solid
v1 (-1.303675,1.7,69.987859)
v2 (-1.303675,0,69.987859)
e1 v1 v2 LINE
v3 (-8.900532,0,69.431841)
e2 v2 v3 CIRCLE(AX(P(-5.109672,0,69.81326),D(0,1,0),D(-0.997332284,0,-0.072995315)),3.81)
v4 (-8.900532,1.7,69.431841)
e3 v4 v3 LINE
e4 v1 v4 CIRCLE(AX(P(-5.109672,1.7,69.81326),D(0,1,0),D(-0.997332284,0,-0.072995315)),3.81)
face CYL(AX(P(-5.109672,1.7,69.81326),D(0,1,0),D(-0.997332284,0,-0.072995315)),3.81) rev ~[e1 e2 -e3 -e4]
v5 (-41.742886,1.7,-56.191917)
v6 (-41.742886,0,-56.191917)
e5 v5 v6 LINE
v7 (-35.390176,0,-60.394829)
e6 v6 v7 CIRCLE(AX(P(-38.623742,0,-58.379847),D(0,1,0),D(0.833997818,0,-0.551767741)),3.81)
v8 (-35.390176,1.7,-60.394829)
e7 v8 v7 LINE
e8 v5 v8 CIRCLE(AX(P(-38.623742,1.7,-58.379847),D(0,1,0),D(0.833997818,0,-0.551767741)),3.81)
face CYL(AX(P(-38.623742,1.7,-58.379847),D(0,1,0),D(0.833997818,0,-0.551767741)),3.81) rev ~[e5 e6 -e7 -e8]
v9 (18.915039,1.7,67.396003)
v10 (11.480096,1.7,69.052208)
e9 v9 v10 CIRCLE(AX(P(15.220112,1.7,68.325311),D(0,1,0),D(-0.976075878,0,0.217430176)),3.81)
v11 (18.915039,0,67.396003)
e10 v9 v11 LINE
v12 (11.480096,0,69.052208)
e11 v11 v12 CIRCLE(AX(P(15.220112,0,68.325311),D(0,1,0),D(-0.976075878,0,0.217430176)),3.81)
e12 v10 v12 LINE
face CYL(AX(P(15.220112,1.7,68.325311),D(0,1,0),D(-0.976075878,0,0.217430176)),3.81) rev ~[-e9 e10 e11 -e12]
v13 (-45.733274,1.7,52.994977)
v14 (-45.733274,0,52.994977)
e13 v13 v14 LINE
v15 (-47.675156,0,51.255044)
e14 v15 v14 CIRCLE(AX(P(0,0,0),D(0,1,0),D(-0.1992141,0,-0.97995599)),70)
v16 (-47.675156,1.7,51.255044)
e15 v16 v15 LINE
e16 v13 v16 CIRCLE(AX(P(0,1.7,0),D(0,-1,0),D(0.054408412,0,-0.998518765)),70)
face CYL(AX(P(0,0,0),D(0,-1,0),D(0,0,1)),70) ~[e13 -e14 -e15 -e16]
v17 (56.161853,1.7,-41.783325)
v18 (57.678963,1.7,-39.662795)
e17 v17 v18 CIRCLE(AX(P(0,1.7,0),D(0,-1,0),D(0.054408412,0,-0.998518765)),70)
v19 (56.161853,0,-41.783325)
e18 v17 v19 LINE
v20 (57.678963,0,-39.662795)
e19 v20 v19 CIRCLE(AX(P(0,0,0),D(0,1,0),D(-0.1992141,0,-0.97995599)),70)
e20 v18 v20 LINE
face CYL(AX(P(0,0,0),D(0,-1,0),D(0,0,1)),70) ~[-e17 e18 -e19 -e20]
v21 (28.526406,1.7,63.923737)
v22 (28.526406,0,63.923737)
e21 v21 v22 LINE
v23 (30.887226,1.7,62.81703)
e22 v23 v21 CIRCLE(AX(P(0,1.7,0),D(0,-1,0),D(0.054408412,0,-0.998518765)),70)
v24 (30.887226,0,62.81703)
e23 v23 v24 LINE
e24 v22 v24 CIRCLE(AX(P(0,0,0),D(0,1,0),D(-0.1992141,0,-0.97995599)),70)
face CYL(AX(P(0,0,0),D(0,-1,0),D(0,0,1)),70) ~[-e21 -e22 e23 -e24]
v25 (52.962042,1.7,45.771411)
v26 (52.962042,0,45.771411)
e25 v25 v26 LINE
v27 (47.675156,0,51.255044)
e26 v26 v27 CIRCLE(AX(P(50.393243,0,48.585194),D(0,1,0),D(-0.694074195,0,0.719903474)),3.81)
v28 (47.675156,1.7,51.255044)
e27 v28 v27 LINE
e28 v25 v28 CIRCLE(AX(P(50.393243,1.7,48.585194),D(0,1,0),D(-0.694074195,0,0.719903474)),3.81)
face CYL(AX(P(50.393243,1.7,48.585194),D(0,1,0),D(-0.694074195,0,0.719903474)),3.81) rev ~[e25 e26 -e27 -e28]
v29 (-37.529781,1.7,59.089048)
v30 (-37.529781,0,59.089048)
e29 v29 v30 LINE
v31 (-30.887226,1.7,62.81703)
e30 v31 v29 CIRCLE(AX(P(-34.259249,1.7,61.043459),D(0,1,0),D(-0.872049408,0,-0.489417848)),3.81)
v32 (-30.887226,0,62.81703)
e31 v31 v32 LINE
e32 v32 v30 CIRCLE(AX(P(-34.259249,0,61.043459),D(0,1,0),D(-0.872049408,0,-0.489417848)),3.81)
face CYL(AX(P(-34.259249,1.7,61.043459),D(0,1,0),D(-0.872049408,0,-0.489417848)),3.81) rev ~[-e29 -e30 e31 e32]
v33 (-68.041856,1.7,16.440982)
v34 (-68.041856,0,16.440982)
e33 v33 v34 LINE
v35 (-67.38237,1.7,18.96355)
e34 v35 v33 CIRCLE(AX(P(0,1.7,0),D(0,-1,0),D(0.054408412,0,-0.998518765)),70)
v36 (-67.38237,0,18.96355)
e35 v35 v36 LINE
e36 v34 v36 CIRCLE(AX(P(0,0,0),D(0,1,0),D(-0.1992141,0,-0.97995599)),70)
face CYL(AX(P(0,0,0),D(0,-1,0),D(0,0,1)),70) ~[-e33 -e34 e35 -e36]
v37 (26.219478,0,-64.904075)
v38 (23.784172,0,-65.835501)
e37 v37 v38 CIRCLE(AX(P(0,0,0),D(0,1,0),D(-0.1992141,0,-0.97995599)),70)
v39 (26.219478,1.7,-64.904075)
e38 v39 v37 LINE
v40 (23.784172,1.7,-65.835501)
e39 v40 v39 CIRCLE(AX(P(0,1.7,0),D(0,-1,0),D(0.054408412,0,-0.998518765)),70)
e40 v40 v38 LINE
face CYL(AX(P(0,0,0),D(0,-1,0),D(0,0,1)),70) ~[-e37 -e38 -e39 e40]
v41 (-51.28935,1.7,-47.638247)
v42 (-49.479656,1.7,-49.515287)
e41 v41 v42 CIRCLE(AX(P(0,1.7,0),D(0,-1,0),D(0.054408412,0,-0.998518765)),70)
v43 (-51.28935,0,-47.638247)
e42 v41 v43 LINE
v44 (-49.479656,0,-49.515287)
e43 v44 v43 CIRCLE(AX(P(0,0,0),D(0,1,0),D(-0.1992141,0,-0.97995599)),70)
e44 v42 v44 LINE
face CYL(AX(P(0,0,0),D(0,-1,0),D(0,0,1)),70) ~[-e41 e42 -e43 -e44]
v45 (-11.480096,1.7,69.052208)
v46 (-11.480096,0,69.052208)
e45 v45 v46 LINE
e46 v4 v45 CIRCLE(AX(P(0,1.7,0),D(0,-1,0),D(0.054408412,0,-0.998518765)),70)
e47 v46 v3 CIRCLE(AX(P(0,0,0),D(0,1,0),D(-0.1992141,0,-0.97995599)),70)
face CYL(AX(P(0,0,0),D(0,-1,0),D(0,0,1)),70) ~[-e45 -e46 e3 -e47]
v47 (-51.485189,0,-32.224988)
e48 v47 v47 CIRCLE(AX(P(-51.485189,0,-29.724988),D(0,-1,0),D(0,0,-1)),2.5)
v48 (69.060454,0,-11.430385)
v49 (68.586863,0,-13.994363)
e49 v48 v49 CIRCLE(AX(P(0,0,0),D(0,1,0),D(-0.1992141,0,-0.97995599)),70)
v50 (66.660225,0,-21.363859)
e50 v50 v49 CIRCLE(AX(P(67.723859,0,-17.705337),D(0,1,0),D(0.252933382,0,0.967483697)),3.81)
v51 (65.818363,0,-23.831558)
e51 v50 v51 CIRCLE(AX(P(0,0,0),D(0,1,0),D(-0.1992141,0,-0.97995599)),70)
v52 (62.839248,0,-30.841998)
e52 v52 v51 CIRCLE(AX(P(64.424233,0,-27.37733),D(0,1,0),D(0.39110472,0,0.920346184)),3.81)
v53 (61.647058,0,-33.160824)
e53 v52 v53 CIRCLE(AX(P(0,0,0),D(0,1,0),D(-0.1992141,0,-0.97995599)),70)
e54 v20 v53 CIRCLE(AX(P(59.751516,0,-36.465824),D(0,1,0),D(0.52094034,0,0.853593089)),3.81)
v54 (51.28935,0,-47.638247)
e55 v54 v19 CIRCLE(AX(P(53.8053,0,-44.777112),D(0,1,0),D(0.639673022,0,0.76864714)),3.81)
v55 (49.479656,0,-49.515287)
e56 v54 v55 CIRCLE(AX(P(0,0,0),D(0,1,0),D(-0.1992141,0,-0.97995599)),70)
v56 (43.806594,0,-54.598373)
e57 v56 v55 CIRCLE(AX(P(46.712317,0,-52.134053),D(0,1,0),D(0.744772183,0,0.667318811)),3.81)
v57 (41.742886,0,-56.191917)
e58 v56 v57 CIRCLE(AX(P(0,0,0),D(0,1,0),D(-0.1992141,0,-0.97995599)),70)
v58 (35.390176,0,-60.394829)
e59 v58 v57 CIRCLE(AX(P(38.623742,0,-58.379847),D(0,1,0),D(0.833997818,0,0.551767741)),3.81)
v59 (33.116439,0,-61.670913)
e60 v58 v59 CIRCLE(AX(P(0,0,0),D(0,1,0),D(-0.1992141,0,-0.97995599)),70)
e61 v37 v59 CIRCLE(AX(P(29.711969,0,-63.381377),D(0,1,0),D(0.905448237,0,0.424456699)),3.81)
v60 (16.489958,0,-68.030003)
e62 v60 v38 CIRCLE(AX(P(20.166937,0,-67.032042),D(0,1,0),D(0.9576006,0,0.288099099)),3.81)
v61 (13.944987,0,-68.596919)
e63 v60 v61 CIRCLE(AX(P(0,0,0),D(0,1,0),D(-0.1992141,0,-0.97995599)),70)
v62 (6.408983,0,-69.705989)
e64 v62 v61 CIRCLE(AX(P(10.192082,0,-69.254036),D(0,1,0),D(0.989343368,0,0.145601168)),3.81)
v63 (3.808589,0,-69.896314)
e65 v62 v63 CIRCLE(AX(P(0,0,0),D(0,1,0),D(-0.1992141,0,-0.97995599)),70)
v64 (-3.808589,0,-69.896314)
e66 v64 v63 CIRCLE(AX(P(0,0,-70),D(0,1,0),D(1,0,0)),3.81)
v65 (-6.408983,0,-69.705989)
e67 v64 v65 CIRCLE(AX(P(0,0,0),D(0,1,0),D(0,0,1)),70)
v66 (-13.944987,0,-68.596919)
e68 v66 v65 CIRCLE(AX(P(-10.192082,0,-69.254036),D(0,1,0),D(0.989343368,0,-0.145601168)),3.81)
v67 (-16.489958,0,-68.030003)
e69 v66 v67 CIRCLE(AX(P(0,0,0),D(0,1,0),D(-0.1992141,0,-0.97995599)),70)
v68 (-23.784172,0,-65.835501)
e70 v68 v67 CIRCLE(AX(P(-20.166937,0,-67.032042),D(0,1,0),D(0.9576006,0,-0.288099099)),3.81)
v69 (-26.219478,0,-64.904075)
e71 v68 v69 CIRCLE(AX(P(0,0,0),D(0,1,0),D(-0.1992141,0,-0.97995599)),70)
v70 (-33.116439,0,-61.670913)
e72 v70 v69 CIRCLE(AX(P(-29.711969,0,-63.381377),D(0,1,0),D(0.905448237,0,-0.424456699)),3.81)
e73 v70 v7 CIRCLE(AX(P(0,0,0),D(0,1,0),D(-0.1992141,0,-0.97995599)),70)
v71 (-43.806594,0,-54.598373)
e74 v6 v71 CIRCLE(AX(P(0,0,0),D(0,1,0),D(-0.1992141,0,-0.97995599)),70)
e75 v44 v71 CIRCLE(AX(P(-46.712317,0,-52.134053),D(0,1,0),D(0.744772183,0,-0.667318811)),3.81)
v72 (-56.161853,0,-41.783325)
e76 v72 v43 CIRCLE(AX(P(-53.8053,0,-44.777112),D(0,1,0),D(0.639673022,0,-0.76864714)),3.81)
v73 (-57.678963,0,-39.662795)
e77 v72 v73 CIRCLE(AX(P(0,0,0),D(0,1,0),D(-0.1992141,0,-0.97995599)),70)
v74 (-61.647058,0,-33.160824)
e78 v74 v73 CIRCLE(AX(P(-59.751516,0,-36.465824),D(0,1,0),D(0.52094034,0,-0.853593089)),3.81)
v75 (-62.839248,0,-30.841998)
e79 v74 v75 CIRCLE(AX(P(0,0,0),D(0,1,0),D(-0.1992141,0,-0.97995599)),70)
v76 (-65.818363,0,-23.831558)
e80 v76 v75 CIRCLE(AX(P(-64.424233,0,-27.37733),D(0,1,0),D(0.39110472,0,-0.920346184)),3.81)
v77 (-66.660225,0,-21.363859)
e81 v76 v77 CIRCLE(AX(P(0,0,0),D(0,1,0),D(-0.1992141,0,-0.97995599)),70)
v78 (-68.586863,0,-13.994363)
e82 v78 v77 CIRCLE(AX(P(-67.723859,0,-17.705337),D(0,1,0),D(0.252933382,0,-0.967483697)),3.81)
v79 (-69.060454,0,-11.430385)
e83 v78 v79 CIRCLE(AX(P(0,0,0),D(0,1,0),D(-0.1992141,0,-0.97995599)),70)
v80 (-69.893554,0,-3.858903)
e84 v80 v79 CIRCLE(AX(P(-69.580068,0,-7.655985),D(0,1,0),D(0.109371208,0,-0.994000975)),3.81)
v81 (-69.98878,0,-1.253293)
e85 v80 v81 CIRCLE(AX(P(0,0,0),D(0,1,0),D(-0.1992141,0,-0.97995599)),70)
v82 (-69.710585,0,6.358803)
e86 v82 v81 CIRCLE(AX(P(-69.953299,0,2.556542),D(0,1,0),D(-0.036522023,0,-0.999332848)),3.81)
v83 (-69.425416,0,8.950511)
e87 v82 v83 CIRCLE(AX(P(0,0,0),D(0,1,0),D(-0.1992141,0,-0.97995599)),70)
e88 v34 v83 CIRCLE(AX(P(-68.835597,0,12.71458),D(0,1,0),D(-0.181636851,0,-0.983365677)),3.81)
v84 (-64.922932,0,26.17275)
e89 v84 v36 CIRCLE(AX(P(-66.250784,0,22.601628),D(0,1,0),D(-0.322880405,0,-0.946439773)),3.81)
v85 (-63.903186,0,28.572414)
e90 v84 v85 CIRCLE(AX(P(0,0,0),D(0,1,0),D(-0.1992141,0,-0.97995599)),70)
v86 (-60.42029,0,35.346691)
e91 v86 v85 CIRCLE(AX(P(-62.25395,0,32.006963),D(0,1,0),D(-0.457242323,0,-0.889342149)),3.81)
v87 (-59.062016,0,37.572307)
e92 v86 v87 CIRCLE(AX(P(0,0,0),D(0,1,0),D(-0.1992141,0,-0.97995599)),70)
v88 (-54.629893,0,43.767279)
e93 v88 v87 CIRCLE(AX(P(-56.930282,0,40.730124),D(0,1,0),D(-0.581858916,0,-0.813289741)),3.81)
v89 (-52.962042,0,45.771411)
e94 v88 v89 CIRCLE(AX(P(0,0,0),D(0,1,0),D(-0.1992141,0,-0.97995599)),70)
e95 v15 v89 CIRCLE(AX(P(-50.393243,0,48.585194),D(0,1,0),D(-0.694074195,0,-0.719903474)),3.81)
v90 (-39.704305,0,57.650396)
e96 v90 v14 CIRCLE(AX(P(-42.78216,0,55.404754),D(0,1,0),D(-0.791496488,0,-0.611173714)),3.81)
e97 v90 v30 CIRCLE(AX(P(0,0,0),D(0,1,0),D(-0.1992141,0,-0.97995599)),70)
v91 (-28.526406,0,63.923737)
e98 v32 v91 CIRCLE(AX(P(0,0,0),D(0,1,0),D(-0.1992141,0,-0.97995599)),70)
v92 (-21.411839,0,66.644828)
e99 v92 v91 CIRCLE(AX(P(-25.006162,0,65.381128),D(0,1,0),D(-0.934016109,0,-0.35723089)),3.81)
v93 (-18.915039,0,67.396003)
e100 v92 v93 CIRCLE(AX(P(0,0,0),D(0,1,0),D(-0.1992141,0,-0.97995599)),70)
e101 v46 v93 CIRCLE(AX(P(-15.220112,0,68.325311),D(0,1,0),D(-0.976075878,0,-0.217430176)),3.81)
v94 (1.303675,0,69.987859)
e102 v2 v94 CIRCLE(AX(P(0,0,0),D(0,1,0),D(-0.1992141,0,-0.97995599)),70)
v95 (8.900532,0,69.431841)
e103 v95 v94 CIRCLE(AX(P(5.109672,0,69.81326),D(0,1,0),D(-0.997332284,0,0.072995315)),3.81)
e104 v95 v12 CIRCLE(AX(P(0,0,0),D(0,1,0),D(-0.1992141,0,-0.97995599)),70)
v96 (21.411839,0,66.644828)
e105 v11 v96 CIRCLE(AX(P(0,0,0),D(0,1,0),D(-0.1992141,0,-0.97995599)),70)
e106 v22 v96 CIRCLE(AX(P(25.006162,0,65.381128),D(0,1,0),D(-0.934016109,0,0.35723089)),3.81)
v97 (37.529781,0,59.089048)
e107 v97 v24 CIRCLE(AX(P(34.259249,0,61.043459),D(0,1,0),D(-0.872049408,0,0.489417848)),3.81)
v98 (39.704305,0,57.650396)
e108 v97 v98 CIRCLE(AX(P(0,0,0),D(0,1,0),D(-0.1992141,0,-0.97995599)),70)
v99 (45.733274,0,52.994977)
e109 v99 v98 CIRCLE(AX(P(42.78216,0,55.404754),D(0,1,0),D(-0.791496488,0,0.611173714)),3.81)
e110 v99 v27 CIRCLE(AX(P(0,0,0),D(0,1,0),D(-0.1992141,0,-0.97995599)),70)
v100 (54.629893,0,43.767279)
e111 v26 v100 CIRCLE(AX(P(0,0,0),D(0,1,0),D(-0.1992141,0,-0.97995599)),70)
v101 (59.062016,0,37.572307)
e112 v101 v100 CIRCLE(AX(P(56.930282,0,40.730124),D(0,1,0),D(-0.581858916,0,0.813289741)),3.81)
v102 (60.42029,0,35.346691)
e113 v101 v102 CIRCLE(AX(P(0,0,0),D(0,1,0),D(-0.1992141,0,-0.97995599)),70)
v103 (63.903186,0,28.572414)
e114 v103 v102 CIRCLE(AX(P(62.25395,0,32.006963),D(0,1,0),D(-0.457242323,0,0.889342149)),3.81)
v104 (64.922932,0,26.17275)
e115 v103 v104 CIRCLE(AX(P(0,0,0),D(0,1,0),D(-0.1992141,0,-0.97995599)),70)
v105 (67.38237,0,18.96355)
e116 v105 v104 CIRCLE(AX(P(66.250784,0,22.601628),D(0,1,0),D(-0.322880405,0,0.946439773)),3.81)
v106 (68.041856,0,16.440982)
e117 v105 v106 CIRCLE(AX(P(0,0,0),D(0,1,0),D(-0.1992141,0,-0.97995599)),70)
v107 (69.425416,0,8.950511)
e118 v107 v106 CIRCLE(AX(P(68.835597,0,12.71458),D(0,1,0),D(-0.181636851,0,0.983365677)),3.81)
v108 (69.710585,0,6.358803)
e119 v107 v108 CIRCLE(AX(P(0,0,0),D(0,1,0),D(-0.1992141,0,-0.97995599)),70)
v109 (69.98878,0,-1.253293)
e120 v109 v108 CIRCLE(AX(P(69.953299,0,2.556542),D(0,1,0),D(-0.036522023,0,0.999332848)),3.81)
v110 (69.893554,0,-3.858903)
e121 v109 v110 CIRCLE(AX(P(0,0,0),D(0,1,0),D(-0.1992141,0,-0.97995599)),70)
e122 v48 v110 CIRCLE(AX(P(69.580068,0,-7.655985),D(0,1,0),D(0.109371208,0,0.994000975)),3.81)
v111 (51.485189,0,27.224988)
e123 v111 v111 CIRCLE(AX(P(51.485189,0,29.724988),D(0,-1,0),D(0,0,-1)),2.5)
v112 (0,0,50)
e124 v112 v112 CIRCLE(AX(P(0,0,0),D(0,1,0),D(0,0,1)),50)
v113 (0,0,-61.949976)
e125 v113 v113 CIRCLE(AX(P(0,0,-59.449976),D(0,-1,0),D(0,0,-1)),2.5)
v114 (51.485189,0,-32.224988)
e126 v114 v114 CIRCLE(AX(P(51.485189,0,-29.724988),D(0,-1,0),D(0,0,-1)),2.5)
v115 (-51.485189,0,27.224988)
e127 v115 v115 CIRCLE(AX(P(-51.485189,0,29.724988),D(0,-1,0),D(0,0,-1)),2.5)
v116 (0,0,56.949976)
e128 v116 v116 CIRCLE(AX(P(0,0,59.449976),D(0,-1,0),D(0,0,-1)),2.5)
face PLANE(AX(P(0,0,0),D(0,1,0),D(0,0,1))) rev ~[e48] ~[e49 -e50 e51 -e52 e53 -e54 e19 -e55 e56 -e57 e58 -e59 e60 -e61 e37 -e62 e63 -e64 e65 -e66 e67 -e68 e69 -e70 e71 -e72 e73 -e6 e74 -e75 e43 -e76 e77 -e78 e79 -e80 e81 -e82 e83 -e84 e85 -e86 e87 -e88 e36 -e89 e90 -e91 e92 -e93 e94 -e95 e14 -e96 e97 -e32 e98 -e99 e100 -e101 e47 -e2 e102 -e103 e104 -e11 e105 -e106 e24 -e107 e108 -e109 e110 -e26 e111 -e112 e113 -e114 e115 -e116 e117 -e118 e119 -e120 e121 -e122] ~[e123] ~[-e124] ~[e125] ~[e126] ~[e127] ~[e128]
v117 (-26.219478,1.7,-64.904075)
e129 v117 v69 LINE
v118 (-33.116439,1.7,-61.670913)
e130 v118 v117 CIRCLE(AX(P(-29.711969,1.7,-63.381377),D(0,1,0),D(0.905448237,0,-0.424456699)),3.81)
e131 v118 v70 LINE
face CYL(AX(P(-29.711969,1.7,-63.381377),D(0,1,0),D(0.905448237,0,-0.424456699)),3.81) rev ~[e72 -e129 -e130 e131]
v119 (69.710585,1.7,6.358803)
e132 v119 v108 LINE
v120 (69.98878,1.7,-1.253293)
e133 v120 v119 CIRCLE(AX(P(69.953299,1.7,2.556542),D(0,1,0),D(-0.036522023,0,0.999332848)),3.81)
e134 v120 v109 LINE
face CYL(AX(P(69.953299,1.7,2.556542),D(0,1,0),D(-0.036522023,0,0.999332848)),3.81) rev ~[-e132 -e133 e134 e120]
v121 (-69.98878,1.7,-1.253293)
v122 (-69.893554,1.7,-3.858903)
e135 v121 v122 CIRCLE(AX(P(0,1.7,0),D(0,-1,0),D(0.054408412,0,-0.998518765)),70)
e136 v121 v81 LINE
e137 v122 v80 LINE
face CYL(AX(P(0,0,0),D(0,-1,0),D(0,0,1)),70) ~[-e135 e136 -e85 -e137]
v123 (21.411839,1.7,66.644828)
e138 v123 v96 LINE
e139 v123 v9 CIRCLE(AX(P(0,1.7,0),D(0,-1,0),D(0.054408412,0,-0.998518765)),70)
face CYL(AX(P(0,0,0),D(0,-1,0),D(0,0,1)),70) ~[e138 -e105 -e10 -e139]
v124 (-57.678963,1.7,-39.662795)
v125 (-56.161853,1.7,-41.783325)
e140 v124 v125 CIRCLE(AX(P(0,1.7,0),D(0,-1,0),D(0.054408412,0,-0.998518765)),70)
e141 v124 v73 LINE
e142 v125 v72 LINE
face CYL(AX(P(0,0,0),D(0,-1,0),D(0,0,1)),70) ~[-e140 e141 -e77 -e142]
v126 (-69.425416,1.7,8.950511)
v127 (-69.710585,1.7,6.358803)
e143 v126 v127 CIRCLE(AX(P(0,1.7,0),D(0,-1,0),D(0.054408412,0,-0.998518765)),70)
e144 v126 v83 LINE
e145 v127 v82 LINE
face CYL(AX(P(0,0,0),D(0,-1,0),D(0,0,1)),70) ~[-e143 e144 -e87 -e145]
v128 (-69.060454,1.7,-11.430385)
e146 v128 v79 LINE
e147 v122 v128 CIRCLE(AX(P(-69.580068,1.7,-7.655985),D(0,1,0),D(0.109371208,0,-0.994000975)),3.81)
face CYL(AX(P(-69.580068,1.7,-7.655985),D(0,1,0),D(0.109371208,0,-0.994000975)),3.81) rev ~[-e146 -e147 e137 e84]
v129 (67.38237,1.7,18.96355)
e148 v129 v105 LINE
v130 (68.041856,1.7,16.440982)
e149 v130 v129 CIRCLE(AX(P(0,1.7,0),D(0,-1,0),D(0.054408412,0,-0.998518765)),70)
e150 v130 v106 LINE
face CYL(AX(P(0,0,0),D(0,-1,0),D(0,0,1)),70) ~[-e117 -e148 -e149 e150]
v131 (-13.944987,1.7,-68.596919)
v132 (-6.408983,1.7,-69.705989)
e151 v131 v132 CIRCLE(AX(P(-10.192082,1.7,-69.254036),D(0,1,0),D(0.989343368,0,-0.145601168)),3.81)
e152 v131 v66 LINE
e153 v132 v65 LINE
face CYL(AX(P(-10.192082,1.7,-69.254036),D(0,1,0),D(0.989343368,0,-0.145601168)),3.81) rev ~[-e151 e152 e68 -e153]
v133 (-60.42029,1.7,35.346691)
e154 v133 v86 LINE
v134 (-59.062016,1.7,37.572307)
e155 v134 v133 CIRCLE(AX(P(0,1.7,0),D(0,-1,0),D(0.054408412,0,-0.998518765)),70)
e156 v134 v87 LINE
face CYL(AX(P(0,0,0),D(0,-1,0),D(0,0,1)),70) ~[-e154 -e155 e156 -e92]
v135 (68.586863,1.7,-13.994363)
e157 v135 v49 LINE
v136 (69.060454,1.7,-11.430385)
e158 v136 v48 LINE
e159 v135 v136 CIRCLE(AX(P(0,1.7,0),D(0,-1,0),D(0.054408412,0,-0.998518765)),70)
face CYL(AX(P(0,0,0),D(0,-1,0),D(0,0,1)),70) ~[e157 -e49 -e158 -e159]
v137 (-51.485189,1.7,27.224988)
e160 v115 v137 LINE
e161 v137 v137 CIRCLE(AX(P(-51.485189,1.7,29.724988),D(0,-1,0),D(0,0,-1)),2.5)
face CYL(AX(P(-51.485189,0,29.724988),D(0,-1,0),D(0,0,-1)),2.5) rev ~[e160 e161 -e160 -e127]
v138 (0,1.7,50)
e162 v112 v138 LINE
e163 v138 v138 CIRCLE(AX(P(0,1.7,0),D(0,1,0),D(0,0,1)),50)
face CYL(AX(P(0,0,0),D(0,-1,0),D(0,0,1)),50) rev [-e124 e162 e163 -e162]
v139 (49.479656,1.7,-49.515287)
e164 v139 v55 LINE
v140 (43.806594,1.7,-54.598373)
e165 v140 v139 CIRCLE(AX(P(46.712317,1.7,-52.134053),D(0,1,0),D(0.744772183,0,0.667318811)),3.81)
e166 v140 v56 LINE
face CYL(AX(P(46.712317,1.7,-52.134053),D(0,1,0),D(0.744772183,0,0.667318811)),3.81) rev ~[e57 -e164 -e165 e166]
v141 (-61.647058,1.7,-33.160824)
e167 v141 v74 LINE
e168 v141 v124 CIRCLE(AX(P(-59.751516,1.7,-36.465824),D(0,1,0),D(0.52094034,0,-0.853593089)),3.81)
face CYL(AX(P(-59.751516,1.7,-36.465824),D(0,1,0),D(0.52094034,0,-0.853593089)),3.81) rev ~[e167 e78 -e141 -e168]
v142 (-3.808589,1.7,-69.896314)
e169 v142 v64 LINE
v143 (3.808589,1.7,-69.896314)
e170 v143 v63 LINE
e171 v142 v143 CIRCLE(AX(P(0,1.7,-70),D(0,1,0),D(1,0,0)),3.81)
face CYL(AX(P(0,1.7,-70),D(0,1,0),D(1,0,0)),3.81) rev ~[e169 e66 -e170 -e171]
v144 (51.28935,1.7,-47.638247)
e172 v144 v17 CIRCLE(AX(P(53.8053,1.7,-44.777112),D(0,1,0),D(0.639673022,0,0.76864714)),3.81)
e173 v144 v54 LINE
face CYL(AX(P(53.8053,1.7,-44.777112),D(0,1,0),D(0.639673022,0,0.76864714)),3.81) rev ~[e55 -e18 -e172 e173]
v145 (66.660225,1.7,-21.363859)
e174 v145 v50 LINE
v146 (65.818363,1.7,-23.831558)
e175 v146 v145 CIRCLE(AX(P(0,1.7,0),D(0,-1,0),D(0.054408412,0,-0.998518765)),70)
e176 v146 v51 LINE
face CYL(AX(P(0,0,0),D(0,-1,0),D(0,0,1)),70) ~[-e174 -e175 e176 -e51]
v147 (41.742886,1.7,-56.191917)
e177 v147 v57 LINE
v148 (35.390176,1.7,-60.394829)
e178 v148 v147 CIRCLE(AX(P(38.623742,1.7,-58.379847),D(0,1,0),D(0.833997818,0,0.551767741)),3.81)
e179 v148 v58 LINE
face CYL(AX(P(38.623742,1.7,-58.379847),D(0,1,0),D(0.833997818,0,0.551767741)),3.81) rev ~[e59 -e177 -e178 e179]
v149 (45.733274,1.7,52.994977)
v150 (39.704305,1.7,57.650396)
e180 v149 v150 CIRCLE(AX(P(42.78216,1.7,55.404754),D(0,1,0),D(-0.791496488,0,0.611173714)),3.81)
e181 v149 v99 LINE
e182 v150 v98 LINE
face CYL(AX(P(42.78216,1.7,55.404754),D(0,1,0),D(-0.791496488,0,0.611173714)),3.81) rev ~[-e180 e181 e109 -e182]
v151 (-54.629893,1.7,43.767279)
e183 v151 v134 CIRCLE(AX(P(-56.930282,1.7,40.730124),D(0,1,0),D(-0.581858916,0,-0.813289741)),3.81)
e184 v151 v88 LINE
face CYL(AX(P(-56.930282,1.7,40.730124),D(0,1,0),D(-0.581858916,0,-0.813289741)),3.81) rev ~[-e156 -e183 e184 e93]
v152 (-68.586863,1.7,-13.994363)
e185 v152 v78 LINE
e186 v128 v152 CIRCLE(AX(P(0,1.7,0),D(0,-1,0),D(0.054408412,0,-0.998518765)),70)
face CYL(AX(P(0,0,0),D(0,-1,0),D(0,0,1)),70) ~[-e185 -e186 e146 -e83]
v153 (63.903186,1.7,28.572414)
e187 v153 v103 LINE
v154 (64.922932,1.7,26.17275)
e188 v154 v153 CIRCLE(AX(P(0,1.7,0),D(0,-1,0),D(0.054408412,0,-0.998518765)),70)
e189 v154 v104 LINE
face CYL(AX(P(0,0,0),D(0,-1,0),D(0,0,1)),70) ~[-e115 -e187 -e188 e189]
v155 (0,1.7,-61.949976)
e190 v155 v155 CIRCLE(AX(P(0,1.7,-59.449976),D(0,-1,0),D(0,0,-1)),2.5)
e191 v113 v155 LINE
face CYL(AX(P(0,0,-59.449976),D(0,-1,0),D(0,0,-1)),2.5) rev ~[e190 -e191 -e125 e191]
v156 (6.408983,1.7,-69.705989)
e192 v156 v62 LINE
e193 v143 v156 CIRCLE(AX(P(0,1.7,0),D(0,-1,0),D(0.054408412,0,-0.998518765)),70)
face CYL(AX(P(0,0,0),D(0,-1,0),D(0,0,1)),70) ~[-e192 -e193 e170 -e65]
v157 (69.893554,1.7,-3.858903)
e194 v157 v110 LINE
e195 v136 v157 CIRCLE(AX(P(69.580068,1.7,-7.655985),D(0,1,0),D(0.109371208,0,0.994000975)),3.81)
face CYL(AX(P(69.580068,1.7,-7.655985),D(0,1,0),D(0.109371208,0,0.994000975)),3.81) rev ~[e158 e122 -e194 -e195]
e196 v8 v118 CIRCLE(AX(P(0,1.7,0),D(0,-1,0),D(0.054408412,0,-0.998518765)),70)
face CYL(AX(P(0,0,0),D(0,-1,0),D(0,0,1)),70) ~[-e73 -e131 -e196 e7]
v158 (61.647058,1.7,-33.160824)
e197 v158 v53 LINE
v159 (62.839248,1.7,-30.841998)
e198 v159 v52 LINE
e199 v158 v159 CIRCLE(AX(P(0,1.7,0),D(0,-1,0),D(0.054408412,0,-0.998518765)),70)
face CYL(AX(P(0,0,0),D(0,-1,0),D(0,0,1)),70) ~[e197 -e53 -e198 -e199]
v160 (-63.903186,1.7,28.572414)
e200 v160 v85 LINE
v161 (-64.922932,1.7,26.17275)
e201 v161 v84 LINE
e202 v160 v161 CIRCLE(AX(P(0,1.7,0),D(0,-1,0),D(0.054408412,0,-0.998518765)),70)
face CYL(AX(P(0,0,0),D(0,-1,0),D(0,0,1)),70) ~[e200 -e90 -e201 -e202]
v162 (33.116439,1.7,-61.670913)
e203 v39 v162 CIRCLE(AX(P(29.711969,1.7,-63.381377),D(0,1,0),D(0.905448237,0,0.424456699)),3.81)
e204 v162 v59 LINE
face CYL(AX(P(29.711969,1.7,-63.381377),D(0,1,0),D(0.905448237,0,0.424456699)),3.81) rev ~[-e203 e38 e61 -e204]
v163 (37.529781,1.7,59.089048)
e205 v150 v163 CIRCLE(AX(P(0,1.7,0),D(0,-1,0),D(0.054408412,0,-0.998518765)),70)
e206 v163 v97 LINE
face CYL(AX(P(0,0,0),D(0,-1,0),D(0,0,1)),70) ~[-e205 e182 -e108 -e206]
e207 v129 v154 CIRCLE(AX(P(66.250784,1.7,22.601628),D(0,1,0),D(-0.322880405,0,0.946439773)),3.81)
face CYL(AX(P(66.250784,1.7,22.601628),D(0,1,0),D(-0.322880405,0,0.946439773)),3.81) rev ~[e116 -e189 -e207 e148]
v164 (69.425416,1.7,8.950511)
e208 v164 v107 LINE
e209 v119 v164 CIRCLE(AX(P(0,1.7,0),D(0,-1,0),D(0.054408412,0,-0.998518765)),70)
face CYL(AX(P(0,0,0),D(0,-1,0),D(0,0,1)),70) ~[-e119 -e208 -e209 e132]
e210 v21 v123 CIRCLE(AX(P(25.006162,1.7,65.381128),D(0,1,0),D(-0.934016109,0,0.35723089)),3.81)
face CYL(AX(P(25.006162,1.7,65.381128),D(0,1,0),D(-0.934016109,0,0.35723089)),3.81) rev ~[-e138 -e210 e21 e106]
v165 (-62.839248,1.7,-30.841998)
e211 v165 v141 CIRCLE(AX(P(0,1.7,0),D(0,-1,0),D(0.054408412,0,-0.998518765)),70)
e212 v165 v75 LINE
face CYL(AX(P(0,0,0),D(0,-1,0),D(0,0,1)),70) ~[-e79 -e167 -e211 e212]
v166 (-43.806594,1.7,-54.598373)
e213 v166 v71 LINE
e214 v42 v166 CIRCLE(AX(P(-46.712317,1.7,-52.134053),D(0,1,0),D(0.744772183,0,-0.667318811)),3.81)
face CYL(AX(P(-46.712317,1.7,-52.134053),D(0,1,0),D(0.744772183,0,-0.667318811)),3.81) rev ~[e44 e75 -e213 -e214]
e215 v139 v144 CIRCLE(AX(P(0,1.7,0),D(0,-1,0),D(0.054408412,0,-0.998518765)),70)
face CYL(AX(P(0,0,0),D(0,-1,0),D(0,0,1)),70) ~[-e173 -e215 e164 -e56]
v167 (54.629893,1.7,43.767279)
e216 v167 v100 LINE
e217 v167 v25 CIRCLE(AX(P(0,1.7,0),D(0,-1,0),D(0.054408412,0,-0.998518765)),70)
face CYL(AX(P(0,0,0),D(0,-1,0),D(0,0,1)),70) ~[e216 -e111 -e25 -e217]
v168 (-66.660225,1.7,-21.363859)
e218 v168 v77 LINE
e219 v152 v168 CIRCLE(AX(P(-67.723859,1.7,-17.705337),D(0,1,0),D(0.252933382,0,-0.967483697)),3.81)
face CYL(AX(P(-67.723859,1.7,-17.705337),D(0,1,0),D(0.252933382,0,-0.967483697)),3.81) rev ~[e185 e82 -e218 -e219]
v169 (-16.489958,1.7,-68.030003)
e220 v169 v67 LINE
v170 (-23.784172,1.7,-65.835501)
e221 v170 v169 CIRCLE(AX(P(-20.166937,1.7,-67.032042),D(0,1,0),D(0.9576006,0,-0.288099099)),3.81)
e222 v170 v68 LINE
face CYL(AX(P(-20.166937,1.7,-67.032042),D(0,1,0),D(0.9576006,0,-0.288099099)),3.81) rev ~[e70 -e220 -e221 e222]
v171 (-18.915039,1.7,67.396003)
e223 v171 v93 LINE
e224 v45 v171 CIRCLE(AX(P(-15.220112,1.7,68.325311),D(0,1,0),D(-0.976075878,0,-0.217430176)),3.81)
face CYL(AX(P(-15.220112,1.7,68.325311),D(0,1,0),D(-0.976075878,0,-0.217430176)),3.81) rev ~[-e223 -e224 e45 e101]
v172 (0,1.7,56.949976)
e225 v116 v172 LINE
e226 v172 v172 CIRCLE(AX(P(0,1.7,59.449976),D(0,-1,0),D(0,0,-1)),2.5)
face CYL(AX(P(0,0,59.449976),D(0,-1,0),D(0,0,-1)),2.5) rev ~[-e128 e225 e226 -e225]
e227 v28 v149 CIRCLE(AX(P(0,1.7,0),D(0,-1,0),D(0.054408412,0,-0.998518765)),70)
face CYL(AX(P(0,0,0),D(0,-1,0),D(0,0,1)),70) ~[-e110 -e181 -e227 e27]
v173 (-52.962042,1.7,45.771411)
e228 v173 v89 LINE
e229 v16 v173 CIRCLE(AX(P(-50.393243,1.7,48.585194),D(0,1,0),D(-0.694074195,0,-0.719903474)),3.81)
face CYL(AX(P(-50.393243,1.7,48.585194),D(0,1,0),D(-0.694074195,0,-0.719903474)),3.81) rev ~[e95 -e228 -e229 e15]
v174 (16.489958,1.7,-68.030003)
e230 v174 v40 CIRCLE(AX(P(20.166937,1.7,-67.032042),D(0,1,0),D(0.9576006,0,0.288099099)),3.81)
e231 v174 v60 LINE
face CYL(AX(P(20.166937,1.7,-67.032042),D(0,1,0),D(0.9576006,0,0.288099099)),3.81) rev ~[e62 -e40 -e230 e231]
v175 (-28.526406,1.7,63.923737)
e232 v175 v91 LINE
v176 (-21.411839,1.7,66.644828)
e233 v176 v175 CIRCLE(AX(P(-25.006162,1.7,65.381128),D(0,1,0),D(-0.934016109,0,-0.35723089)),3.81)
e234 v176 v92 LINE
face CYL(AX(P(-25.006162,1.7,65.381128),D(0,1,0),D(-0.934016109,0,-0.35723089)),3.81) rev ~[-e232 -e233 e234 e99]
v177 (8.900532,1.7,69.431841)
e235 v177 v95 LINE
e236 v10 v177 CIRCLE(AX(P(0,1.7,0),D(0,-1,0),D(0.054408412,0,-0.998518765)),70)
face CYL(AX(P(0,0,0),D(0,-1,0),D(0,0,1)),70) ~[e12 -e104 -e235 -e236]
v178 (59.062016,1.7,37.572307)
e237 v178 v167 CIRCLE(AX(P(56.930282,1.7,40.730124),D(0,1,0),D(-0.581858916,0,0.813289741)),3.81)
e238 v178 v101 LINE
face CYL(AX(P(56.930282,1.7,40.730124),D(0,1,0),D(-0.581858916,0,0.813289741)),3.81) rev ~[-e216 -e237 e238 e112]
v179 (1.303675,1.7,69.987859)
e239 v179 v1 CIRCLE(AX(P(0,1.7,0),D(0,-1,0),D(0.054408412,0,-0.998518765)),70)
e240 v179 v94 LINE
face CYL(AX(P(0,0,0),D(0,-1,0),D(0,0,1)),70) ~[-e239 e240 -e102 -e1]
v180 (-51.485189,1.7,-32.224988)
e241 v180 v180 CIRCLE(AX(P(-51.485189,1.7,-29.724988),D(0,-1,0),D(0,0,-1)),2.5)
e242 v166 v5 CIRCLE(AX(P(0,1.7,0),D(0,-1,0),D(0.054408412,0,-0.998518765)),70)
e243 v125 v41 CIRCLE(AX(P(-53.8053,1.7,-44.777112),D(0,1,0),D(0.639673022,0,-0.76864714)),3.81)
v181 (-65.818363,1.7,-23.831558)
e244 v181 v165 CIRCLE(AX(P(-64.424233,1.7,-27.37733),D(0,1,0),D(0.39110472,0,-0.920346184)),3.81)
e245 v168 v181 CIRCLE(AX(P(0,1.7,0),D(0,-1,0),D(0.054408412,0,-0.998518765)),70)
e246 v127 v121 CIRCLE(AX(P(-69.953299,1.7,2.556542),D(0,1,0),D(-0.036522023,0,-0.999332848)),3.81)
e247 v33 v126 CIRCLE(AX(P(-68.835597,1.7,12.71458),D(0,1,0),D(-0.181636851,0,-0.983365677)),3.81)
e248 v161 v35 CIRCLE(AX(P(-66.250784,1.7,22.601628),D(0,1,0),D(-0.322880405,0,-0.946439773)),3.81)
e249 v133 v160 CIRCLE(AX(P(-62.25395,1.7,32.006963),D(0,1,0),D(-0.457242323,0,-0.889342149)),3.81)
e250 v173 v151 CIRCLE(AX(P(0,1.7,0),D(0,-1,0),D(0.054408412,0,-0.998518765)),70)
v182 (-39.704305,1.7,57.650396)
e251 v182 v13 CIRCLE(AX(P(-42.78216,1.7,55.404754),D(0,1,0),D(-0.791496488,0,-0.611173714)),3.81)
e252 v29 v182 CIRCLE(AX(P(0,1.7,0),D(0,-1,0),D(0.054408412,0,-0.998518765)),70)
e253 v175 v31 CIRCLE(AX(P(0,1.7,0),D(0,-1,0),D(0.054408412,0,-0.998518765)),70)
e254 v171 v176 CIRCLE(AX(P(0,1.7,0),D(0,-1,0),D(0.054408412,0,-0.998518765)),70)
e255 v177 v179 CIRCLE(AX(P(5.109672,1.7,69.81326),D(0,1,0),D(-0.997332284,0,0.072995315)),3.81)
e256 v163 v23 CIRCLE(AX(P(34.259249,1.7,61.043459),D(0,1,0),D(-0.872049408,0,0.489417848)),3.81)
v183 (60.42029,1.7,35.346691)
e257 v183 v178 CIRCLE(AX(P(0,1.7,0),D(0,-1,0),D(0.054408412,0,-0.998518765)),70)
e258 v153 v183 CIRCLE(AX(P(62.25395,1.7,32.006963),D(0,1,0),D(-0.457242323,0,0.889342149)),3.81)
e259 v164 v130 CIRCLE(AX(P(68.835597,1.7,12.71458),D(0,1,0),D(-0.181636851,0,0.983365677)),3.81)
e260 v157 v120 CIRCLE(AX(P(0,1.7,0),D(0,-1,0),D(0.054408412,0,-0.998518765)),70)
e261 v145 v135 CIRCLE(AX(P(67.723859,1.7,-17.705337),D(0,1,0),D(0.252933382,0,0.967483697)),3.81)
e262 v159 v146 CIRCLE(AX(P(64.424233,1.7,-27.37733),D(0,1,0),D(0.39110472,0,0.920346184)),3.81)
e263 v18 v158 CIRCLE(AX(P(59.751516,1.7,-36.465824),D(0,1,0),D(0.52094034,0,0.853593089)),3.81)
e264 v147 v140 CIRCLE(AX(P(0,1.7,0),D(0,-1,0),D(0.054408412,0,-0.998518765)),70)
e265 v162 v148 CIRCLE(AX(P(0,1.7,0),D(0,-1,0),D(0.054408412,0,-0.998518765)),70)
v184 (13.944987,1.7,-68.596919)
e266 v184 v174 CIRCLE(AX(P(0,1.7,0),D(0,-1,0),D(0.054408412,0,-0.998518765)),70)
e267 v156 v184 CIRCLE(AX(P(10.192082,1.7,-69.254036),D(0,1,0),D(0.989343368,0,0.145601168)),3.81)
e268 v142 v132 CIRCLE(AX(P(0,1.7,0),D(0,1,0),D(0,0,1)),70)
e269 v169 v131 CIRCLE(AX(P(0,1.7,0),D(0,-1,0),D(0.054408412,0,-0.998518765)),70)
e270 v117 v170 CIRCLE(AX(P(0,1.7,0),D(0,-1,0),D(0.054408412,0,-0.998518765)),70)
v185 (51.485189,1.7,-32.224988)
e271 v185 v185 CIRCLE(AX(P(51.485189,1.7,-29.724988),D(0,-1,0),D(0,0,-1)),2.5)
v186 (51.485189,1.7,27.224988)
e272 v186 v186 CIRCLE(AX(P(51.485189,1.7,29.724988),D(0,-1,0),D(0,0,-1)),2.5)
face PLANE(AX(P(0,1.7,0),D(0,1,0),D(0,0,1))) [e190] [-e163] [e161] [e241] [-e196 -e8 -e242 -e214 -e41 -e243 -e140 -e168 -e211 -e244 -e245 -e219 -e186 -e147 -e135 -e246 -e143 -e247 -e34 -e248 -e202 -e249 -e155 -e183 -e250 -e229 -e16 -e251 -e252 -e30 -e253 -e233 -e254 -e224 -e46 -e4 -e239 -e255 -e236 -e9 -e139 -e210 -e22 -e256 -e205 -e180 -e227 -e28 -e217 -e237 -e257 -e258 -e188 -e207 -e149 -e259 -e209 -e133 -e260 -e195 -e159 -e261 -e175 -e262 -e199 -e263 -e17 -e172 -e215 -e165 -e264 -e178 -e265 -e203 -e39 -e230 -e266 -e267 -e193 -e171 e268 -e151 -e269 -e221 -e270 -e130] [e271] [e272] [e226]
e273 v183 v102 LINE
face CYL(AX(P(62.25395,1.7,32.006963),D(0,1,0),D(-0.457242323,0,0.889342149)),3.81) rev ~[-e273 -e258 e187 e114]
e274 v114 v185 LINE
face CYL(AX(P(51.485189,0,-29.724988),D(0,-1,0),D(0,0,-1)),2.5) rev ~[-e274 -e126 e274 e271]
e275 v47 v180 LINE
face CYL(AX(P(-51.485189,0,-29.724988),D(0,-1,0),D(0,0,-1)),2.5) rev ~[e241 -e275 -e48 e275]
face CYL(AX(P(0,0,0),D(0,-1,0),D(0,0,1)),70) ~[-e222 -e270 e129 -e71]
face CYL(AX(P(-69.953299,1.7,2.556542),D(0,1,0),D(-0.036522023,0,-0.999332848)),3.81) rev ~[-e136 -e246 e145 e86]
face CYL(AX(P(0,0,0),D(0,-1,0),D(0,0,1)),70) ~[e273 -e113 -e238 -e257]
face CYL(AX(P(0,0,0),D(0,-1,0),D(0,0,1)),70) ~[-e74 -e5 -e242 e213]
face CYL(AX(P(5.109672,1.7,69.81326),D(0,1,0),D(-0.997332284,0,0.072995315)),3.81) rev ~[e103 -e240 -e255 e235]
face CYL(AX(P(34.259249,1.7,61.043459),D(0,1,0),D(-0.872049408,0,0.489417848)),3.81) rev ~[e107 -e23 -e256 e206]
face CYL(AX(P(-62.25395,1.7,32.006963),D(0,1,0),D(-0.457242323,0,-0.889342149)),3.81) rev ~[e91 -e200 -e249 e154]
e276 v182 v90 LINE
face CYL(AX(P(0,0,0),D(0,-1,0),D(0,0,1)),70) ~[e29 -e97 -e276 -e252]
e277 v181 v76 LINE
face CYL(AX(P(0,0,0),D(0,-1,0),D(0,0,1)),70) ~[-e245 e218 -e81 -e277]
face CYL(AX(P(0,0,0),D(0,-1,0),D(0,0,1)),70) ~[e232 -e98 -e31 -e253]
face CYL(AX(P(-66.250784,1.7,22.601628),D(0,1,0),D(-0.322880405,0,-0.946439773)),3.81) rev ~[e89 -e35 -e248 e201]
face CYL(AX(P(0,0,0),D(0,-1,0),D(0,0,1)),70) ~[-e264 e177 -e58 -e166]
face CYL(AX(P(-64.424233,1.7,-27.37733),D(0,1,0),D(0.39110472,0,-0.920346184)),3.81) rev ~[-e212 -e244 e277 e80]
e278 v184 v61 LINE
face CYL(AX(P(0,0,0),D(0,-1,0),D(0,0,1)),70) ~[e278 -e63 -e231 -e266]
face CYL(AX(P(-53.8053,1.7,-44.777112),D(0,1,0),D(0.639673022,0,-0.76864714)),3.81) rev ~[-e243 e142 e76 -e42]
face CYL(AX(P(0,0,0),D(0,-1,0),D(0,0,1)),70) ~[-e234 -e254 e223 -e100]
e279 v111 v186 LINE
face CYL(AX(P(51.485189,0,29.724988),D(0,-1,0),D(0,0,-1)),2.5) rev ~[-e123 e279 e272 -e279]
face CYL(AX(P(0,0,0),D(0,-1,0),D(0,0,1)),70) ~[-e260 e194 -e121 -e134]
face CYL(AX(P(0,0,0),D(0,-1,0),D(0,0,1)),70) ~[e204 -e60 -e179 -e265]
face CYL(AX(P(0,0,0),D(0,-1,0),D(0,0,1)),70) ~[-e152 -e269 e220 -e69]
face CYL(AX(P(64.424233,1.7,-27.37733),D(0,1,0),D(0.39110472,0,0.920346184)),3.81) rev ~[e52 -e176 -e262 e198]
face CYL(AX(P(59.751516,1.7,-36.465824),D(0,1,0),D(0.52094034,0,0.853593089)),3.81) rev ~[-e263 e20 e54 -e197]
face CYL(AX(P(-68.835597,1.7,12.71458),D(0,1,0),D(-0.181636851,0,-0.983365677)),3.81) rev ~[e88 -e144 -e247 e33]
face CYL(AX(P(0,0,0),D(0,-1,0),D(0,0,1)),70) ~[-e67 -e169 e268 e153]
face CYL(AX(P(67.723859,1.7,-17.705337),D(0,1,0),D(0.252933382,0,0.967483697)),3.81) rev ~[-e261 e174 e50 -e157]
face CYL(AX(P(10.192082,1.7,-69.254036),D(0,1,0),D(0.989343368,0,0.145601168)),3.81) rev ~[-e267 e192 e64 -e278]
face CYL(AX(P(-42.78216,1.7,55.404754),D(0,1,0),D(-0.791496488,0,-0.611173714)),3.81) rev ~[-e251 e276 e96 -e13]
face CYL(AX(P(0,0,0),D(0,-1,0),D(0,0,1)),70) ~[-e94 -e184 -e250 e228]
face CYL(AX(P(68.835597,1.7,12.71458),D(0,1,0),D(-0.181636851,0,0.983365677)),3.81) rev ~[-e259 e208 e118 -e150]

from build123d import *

# Parameters (mm, degrees)
SKETCH1_R           = 70
SKETCH1_R_2         = 50
BOSS_EXTRUDE1_DEPTH = 1.7
SKETCH3_R           = 3.81
CUT_EXTRUDE1_DEPTH  = 2.54
CIRPATTERN1_COUNT   = 43
SKETCH5_R           = 2.5
CUT_EXTRUDE2_DEPTH  = 10


with BuildPart() as part:
    # Sketch1 → Boss-Extrude1 (new body)
    with BuildSketch(Plane(origin=(0, 0, 0), x_dir=(1, 0, 0), z_dir=(0, 1, 0))):
        with Locations(Location((0, 0, 0), (0, 0, 270))):
            Circle(SKETCH1_R)
        with Locations(Location((0, 0, 0), (0, 0, 270))):
            Circle(SKETCH1_R_2, mode=Mode.SUBTRACT)
    extrude(amount=BOSS_EXTRUDE1_DEPTH)

    # Sketch3 → Cut-Extrude1 (cut)
    with BuildSketch(Plane(origin=(0, 1.7, 0), x_dir=(1, 0, 0), z_dir=(0, 1, 0))):
        with Locations((0, 70)):
            Circle(SKETCH3_R)
    cut_extrude1 = extrude(amount=-CUT_EXTRUDE1_DEPTH, mode=Mode.SUBTRACT)

    # CirPattern1: Cut-Extrude1 ×43 about axis
    cirpattern1_axis = Axis((0, 0, 0), (0, 1, 0))
    for i in range(1, CIRPATTERN1_COUNT):
        add(cut_extrude1.rotate(cirpattern1_axis, i * 360 / CIRPATTERN1_COUNT), mode=Mode.SUBTRACT)

    # Sketch5 → Cut-Extrude2 (cut)
    with BuildSketch(Plane(origin=(0, 0, 0), x_dir=(-1, 0, 0), z_dir=(0, -1, 0))):
        with Locations(Location((0, 59.449975509, 0), (0, 0, 90))):
            Circle(SKETCH5_R)
        with Locations(Location((51.485189045, 29.724987755, 0), (0, 0, 90))):
            Circle(SKETCH5_R)
        with Locations(Location((51.485189045, -29.724987755, 0), (0, 0, 90))):
            Circle(SKETCH5_R)
        with Locations(Location((0, -59.449975509, 0), (0, 0, 90))):
            Circle(SKETCH5_R)
        with Locations(Location((-51.485189045, -29.724987755, 0), (0, 0, 90))):
            Circle(SKETCH5_R)
        with Locations(Location((-51.485189045, 29.724987755, 0), (0, 0, 90))):
            Circle(SKETCH5_R)
    extrude(amount=-CUT_EXTRUDE2_DEPTH, mode=Mode.SUBTRACT)


solid = part.part
